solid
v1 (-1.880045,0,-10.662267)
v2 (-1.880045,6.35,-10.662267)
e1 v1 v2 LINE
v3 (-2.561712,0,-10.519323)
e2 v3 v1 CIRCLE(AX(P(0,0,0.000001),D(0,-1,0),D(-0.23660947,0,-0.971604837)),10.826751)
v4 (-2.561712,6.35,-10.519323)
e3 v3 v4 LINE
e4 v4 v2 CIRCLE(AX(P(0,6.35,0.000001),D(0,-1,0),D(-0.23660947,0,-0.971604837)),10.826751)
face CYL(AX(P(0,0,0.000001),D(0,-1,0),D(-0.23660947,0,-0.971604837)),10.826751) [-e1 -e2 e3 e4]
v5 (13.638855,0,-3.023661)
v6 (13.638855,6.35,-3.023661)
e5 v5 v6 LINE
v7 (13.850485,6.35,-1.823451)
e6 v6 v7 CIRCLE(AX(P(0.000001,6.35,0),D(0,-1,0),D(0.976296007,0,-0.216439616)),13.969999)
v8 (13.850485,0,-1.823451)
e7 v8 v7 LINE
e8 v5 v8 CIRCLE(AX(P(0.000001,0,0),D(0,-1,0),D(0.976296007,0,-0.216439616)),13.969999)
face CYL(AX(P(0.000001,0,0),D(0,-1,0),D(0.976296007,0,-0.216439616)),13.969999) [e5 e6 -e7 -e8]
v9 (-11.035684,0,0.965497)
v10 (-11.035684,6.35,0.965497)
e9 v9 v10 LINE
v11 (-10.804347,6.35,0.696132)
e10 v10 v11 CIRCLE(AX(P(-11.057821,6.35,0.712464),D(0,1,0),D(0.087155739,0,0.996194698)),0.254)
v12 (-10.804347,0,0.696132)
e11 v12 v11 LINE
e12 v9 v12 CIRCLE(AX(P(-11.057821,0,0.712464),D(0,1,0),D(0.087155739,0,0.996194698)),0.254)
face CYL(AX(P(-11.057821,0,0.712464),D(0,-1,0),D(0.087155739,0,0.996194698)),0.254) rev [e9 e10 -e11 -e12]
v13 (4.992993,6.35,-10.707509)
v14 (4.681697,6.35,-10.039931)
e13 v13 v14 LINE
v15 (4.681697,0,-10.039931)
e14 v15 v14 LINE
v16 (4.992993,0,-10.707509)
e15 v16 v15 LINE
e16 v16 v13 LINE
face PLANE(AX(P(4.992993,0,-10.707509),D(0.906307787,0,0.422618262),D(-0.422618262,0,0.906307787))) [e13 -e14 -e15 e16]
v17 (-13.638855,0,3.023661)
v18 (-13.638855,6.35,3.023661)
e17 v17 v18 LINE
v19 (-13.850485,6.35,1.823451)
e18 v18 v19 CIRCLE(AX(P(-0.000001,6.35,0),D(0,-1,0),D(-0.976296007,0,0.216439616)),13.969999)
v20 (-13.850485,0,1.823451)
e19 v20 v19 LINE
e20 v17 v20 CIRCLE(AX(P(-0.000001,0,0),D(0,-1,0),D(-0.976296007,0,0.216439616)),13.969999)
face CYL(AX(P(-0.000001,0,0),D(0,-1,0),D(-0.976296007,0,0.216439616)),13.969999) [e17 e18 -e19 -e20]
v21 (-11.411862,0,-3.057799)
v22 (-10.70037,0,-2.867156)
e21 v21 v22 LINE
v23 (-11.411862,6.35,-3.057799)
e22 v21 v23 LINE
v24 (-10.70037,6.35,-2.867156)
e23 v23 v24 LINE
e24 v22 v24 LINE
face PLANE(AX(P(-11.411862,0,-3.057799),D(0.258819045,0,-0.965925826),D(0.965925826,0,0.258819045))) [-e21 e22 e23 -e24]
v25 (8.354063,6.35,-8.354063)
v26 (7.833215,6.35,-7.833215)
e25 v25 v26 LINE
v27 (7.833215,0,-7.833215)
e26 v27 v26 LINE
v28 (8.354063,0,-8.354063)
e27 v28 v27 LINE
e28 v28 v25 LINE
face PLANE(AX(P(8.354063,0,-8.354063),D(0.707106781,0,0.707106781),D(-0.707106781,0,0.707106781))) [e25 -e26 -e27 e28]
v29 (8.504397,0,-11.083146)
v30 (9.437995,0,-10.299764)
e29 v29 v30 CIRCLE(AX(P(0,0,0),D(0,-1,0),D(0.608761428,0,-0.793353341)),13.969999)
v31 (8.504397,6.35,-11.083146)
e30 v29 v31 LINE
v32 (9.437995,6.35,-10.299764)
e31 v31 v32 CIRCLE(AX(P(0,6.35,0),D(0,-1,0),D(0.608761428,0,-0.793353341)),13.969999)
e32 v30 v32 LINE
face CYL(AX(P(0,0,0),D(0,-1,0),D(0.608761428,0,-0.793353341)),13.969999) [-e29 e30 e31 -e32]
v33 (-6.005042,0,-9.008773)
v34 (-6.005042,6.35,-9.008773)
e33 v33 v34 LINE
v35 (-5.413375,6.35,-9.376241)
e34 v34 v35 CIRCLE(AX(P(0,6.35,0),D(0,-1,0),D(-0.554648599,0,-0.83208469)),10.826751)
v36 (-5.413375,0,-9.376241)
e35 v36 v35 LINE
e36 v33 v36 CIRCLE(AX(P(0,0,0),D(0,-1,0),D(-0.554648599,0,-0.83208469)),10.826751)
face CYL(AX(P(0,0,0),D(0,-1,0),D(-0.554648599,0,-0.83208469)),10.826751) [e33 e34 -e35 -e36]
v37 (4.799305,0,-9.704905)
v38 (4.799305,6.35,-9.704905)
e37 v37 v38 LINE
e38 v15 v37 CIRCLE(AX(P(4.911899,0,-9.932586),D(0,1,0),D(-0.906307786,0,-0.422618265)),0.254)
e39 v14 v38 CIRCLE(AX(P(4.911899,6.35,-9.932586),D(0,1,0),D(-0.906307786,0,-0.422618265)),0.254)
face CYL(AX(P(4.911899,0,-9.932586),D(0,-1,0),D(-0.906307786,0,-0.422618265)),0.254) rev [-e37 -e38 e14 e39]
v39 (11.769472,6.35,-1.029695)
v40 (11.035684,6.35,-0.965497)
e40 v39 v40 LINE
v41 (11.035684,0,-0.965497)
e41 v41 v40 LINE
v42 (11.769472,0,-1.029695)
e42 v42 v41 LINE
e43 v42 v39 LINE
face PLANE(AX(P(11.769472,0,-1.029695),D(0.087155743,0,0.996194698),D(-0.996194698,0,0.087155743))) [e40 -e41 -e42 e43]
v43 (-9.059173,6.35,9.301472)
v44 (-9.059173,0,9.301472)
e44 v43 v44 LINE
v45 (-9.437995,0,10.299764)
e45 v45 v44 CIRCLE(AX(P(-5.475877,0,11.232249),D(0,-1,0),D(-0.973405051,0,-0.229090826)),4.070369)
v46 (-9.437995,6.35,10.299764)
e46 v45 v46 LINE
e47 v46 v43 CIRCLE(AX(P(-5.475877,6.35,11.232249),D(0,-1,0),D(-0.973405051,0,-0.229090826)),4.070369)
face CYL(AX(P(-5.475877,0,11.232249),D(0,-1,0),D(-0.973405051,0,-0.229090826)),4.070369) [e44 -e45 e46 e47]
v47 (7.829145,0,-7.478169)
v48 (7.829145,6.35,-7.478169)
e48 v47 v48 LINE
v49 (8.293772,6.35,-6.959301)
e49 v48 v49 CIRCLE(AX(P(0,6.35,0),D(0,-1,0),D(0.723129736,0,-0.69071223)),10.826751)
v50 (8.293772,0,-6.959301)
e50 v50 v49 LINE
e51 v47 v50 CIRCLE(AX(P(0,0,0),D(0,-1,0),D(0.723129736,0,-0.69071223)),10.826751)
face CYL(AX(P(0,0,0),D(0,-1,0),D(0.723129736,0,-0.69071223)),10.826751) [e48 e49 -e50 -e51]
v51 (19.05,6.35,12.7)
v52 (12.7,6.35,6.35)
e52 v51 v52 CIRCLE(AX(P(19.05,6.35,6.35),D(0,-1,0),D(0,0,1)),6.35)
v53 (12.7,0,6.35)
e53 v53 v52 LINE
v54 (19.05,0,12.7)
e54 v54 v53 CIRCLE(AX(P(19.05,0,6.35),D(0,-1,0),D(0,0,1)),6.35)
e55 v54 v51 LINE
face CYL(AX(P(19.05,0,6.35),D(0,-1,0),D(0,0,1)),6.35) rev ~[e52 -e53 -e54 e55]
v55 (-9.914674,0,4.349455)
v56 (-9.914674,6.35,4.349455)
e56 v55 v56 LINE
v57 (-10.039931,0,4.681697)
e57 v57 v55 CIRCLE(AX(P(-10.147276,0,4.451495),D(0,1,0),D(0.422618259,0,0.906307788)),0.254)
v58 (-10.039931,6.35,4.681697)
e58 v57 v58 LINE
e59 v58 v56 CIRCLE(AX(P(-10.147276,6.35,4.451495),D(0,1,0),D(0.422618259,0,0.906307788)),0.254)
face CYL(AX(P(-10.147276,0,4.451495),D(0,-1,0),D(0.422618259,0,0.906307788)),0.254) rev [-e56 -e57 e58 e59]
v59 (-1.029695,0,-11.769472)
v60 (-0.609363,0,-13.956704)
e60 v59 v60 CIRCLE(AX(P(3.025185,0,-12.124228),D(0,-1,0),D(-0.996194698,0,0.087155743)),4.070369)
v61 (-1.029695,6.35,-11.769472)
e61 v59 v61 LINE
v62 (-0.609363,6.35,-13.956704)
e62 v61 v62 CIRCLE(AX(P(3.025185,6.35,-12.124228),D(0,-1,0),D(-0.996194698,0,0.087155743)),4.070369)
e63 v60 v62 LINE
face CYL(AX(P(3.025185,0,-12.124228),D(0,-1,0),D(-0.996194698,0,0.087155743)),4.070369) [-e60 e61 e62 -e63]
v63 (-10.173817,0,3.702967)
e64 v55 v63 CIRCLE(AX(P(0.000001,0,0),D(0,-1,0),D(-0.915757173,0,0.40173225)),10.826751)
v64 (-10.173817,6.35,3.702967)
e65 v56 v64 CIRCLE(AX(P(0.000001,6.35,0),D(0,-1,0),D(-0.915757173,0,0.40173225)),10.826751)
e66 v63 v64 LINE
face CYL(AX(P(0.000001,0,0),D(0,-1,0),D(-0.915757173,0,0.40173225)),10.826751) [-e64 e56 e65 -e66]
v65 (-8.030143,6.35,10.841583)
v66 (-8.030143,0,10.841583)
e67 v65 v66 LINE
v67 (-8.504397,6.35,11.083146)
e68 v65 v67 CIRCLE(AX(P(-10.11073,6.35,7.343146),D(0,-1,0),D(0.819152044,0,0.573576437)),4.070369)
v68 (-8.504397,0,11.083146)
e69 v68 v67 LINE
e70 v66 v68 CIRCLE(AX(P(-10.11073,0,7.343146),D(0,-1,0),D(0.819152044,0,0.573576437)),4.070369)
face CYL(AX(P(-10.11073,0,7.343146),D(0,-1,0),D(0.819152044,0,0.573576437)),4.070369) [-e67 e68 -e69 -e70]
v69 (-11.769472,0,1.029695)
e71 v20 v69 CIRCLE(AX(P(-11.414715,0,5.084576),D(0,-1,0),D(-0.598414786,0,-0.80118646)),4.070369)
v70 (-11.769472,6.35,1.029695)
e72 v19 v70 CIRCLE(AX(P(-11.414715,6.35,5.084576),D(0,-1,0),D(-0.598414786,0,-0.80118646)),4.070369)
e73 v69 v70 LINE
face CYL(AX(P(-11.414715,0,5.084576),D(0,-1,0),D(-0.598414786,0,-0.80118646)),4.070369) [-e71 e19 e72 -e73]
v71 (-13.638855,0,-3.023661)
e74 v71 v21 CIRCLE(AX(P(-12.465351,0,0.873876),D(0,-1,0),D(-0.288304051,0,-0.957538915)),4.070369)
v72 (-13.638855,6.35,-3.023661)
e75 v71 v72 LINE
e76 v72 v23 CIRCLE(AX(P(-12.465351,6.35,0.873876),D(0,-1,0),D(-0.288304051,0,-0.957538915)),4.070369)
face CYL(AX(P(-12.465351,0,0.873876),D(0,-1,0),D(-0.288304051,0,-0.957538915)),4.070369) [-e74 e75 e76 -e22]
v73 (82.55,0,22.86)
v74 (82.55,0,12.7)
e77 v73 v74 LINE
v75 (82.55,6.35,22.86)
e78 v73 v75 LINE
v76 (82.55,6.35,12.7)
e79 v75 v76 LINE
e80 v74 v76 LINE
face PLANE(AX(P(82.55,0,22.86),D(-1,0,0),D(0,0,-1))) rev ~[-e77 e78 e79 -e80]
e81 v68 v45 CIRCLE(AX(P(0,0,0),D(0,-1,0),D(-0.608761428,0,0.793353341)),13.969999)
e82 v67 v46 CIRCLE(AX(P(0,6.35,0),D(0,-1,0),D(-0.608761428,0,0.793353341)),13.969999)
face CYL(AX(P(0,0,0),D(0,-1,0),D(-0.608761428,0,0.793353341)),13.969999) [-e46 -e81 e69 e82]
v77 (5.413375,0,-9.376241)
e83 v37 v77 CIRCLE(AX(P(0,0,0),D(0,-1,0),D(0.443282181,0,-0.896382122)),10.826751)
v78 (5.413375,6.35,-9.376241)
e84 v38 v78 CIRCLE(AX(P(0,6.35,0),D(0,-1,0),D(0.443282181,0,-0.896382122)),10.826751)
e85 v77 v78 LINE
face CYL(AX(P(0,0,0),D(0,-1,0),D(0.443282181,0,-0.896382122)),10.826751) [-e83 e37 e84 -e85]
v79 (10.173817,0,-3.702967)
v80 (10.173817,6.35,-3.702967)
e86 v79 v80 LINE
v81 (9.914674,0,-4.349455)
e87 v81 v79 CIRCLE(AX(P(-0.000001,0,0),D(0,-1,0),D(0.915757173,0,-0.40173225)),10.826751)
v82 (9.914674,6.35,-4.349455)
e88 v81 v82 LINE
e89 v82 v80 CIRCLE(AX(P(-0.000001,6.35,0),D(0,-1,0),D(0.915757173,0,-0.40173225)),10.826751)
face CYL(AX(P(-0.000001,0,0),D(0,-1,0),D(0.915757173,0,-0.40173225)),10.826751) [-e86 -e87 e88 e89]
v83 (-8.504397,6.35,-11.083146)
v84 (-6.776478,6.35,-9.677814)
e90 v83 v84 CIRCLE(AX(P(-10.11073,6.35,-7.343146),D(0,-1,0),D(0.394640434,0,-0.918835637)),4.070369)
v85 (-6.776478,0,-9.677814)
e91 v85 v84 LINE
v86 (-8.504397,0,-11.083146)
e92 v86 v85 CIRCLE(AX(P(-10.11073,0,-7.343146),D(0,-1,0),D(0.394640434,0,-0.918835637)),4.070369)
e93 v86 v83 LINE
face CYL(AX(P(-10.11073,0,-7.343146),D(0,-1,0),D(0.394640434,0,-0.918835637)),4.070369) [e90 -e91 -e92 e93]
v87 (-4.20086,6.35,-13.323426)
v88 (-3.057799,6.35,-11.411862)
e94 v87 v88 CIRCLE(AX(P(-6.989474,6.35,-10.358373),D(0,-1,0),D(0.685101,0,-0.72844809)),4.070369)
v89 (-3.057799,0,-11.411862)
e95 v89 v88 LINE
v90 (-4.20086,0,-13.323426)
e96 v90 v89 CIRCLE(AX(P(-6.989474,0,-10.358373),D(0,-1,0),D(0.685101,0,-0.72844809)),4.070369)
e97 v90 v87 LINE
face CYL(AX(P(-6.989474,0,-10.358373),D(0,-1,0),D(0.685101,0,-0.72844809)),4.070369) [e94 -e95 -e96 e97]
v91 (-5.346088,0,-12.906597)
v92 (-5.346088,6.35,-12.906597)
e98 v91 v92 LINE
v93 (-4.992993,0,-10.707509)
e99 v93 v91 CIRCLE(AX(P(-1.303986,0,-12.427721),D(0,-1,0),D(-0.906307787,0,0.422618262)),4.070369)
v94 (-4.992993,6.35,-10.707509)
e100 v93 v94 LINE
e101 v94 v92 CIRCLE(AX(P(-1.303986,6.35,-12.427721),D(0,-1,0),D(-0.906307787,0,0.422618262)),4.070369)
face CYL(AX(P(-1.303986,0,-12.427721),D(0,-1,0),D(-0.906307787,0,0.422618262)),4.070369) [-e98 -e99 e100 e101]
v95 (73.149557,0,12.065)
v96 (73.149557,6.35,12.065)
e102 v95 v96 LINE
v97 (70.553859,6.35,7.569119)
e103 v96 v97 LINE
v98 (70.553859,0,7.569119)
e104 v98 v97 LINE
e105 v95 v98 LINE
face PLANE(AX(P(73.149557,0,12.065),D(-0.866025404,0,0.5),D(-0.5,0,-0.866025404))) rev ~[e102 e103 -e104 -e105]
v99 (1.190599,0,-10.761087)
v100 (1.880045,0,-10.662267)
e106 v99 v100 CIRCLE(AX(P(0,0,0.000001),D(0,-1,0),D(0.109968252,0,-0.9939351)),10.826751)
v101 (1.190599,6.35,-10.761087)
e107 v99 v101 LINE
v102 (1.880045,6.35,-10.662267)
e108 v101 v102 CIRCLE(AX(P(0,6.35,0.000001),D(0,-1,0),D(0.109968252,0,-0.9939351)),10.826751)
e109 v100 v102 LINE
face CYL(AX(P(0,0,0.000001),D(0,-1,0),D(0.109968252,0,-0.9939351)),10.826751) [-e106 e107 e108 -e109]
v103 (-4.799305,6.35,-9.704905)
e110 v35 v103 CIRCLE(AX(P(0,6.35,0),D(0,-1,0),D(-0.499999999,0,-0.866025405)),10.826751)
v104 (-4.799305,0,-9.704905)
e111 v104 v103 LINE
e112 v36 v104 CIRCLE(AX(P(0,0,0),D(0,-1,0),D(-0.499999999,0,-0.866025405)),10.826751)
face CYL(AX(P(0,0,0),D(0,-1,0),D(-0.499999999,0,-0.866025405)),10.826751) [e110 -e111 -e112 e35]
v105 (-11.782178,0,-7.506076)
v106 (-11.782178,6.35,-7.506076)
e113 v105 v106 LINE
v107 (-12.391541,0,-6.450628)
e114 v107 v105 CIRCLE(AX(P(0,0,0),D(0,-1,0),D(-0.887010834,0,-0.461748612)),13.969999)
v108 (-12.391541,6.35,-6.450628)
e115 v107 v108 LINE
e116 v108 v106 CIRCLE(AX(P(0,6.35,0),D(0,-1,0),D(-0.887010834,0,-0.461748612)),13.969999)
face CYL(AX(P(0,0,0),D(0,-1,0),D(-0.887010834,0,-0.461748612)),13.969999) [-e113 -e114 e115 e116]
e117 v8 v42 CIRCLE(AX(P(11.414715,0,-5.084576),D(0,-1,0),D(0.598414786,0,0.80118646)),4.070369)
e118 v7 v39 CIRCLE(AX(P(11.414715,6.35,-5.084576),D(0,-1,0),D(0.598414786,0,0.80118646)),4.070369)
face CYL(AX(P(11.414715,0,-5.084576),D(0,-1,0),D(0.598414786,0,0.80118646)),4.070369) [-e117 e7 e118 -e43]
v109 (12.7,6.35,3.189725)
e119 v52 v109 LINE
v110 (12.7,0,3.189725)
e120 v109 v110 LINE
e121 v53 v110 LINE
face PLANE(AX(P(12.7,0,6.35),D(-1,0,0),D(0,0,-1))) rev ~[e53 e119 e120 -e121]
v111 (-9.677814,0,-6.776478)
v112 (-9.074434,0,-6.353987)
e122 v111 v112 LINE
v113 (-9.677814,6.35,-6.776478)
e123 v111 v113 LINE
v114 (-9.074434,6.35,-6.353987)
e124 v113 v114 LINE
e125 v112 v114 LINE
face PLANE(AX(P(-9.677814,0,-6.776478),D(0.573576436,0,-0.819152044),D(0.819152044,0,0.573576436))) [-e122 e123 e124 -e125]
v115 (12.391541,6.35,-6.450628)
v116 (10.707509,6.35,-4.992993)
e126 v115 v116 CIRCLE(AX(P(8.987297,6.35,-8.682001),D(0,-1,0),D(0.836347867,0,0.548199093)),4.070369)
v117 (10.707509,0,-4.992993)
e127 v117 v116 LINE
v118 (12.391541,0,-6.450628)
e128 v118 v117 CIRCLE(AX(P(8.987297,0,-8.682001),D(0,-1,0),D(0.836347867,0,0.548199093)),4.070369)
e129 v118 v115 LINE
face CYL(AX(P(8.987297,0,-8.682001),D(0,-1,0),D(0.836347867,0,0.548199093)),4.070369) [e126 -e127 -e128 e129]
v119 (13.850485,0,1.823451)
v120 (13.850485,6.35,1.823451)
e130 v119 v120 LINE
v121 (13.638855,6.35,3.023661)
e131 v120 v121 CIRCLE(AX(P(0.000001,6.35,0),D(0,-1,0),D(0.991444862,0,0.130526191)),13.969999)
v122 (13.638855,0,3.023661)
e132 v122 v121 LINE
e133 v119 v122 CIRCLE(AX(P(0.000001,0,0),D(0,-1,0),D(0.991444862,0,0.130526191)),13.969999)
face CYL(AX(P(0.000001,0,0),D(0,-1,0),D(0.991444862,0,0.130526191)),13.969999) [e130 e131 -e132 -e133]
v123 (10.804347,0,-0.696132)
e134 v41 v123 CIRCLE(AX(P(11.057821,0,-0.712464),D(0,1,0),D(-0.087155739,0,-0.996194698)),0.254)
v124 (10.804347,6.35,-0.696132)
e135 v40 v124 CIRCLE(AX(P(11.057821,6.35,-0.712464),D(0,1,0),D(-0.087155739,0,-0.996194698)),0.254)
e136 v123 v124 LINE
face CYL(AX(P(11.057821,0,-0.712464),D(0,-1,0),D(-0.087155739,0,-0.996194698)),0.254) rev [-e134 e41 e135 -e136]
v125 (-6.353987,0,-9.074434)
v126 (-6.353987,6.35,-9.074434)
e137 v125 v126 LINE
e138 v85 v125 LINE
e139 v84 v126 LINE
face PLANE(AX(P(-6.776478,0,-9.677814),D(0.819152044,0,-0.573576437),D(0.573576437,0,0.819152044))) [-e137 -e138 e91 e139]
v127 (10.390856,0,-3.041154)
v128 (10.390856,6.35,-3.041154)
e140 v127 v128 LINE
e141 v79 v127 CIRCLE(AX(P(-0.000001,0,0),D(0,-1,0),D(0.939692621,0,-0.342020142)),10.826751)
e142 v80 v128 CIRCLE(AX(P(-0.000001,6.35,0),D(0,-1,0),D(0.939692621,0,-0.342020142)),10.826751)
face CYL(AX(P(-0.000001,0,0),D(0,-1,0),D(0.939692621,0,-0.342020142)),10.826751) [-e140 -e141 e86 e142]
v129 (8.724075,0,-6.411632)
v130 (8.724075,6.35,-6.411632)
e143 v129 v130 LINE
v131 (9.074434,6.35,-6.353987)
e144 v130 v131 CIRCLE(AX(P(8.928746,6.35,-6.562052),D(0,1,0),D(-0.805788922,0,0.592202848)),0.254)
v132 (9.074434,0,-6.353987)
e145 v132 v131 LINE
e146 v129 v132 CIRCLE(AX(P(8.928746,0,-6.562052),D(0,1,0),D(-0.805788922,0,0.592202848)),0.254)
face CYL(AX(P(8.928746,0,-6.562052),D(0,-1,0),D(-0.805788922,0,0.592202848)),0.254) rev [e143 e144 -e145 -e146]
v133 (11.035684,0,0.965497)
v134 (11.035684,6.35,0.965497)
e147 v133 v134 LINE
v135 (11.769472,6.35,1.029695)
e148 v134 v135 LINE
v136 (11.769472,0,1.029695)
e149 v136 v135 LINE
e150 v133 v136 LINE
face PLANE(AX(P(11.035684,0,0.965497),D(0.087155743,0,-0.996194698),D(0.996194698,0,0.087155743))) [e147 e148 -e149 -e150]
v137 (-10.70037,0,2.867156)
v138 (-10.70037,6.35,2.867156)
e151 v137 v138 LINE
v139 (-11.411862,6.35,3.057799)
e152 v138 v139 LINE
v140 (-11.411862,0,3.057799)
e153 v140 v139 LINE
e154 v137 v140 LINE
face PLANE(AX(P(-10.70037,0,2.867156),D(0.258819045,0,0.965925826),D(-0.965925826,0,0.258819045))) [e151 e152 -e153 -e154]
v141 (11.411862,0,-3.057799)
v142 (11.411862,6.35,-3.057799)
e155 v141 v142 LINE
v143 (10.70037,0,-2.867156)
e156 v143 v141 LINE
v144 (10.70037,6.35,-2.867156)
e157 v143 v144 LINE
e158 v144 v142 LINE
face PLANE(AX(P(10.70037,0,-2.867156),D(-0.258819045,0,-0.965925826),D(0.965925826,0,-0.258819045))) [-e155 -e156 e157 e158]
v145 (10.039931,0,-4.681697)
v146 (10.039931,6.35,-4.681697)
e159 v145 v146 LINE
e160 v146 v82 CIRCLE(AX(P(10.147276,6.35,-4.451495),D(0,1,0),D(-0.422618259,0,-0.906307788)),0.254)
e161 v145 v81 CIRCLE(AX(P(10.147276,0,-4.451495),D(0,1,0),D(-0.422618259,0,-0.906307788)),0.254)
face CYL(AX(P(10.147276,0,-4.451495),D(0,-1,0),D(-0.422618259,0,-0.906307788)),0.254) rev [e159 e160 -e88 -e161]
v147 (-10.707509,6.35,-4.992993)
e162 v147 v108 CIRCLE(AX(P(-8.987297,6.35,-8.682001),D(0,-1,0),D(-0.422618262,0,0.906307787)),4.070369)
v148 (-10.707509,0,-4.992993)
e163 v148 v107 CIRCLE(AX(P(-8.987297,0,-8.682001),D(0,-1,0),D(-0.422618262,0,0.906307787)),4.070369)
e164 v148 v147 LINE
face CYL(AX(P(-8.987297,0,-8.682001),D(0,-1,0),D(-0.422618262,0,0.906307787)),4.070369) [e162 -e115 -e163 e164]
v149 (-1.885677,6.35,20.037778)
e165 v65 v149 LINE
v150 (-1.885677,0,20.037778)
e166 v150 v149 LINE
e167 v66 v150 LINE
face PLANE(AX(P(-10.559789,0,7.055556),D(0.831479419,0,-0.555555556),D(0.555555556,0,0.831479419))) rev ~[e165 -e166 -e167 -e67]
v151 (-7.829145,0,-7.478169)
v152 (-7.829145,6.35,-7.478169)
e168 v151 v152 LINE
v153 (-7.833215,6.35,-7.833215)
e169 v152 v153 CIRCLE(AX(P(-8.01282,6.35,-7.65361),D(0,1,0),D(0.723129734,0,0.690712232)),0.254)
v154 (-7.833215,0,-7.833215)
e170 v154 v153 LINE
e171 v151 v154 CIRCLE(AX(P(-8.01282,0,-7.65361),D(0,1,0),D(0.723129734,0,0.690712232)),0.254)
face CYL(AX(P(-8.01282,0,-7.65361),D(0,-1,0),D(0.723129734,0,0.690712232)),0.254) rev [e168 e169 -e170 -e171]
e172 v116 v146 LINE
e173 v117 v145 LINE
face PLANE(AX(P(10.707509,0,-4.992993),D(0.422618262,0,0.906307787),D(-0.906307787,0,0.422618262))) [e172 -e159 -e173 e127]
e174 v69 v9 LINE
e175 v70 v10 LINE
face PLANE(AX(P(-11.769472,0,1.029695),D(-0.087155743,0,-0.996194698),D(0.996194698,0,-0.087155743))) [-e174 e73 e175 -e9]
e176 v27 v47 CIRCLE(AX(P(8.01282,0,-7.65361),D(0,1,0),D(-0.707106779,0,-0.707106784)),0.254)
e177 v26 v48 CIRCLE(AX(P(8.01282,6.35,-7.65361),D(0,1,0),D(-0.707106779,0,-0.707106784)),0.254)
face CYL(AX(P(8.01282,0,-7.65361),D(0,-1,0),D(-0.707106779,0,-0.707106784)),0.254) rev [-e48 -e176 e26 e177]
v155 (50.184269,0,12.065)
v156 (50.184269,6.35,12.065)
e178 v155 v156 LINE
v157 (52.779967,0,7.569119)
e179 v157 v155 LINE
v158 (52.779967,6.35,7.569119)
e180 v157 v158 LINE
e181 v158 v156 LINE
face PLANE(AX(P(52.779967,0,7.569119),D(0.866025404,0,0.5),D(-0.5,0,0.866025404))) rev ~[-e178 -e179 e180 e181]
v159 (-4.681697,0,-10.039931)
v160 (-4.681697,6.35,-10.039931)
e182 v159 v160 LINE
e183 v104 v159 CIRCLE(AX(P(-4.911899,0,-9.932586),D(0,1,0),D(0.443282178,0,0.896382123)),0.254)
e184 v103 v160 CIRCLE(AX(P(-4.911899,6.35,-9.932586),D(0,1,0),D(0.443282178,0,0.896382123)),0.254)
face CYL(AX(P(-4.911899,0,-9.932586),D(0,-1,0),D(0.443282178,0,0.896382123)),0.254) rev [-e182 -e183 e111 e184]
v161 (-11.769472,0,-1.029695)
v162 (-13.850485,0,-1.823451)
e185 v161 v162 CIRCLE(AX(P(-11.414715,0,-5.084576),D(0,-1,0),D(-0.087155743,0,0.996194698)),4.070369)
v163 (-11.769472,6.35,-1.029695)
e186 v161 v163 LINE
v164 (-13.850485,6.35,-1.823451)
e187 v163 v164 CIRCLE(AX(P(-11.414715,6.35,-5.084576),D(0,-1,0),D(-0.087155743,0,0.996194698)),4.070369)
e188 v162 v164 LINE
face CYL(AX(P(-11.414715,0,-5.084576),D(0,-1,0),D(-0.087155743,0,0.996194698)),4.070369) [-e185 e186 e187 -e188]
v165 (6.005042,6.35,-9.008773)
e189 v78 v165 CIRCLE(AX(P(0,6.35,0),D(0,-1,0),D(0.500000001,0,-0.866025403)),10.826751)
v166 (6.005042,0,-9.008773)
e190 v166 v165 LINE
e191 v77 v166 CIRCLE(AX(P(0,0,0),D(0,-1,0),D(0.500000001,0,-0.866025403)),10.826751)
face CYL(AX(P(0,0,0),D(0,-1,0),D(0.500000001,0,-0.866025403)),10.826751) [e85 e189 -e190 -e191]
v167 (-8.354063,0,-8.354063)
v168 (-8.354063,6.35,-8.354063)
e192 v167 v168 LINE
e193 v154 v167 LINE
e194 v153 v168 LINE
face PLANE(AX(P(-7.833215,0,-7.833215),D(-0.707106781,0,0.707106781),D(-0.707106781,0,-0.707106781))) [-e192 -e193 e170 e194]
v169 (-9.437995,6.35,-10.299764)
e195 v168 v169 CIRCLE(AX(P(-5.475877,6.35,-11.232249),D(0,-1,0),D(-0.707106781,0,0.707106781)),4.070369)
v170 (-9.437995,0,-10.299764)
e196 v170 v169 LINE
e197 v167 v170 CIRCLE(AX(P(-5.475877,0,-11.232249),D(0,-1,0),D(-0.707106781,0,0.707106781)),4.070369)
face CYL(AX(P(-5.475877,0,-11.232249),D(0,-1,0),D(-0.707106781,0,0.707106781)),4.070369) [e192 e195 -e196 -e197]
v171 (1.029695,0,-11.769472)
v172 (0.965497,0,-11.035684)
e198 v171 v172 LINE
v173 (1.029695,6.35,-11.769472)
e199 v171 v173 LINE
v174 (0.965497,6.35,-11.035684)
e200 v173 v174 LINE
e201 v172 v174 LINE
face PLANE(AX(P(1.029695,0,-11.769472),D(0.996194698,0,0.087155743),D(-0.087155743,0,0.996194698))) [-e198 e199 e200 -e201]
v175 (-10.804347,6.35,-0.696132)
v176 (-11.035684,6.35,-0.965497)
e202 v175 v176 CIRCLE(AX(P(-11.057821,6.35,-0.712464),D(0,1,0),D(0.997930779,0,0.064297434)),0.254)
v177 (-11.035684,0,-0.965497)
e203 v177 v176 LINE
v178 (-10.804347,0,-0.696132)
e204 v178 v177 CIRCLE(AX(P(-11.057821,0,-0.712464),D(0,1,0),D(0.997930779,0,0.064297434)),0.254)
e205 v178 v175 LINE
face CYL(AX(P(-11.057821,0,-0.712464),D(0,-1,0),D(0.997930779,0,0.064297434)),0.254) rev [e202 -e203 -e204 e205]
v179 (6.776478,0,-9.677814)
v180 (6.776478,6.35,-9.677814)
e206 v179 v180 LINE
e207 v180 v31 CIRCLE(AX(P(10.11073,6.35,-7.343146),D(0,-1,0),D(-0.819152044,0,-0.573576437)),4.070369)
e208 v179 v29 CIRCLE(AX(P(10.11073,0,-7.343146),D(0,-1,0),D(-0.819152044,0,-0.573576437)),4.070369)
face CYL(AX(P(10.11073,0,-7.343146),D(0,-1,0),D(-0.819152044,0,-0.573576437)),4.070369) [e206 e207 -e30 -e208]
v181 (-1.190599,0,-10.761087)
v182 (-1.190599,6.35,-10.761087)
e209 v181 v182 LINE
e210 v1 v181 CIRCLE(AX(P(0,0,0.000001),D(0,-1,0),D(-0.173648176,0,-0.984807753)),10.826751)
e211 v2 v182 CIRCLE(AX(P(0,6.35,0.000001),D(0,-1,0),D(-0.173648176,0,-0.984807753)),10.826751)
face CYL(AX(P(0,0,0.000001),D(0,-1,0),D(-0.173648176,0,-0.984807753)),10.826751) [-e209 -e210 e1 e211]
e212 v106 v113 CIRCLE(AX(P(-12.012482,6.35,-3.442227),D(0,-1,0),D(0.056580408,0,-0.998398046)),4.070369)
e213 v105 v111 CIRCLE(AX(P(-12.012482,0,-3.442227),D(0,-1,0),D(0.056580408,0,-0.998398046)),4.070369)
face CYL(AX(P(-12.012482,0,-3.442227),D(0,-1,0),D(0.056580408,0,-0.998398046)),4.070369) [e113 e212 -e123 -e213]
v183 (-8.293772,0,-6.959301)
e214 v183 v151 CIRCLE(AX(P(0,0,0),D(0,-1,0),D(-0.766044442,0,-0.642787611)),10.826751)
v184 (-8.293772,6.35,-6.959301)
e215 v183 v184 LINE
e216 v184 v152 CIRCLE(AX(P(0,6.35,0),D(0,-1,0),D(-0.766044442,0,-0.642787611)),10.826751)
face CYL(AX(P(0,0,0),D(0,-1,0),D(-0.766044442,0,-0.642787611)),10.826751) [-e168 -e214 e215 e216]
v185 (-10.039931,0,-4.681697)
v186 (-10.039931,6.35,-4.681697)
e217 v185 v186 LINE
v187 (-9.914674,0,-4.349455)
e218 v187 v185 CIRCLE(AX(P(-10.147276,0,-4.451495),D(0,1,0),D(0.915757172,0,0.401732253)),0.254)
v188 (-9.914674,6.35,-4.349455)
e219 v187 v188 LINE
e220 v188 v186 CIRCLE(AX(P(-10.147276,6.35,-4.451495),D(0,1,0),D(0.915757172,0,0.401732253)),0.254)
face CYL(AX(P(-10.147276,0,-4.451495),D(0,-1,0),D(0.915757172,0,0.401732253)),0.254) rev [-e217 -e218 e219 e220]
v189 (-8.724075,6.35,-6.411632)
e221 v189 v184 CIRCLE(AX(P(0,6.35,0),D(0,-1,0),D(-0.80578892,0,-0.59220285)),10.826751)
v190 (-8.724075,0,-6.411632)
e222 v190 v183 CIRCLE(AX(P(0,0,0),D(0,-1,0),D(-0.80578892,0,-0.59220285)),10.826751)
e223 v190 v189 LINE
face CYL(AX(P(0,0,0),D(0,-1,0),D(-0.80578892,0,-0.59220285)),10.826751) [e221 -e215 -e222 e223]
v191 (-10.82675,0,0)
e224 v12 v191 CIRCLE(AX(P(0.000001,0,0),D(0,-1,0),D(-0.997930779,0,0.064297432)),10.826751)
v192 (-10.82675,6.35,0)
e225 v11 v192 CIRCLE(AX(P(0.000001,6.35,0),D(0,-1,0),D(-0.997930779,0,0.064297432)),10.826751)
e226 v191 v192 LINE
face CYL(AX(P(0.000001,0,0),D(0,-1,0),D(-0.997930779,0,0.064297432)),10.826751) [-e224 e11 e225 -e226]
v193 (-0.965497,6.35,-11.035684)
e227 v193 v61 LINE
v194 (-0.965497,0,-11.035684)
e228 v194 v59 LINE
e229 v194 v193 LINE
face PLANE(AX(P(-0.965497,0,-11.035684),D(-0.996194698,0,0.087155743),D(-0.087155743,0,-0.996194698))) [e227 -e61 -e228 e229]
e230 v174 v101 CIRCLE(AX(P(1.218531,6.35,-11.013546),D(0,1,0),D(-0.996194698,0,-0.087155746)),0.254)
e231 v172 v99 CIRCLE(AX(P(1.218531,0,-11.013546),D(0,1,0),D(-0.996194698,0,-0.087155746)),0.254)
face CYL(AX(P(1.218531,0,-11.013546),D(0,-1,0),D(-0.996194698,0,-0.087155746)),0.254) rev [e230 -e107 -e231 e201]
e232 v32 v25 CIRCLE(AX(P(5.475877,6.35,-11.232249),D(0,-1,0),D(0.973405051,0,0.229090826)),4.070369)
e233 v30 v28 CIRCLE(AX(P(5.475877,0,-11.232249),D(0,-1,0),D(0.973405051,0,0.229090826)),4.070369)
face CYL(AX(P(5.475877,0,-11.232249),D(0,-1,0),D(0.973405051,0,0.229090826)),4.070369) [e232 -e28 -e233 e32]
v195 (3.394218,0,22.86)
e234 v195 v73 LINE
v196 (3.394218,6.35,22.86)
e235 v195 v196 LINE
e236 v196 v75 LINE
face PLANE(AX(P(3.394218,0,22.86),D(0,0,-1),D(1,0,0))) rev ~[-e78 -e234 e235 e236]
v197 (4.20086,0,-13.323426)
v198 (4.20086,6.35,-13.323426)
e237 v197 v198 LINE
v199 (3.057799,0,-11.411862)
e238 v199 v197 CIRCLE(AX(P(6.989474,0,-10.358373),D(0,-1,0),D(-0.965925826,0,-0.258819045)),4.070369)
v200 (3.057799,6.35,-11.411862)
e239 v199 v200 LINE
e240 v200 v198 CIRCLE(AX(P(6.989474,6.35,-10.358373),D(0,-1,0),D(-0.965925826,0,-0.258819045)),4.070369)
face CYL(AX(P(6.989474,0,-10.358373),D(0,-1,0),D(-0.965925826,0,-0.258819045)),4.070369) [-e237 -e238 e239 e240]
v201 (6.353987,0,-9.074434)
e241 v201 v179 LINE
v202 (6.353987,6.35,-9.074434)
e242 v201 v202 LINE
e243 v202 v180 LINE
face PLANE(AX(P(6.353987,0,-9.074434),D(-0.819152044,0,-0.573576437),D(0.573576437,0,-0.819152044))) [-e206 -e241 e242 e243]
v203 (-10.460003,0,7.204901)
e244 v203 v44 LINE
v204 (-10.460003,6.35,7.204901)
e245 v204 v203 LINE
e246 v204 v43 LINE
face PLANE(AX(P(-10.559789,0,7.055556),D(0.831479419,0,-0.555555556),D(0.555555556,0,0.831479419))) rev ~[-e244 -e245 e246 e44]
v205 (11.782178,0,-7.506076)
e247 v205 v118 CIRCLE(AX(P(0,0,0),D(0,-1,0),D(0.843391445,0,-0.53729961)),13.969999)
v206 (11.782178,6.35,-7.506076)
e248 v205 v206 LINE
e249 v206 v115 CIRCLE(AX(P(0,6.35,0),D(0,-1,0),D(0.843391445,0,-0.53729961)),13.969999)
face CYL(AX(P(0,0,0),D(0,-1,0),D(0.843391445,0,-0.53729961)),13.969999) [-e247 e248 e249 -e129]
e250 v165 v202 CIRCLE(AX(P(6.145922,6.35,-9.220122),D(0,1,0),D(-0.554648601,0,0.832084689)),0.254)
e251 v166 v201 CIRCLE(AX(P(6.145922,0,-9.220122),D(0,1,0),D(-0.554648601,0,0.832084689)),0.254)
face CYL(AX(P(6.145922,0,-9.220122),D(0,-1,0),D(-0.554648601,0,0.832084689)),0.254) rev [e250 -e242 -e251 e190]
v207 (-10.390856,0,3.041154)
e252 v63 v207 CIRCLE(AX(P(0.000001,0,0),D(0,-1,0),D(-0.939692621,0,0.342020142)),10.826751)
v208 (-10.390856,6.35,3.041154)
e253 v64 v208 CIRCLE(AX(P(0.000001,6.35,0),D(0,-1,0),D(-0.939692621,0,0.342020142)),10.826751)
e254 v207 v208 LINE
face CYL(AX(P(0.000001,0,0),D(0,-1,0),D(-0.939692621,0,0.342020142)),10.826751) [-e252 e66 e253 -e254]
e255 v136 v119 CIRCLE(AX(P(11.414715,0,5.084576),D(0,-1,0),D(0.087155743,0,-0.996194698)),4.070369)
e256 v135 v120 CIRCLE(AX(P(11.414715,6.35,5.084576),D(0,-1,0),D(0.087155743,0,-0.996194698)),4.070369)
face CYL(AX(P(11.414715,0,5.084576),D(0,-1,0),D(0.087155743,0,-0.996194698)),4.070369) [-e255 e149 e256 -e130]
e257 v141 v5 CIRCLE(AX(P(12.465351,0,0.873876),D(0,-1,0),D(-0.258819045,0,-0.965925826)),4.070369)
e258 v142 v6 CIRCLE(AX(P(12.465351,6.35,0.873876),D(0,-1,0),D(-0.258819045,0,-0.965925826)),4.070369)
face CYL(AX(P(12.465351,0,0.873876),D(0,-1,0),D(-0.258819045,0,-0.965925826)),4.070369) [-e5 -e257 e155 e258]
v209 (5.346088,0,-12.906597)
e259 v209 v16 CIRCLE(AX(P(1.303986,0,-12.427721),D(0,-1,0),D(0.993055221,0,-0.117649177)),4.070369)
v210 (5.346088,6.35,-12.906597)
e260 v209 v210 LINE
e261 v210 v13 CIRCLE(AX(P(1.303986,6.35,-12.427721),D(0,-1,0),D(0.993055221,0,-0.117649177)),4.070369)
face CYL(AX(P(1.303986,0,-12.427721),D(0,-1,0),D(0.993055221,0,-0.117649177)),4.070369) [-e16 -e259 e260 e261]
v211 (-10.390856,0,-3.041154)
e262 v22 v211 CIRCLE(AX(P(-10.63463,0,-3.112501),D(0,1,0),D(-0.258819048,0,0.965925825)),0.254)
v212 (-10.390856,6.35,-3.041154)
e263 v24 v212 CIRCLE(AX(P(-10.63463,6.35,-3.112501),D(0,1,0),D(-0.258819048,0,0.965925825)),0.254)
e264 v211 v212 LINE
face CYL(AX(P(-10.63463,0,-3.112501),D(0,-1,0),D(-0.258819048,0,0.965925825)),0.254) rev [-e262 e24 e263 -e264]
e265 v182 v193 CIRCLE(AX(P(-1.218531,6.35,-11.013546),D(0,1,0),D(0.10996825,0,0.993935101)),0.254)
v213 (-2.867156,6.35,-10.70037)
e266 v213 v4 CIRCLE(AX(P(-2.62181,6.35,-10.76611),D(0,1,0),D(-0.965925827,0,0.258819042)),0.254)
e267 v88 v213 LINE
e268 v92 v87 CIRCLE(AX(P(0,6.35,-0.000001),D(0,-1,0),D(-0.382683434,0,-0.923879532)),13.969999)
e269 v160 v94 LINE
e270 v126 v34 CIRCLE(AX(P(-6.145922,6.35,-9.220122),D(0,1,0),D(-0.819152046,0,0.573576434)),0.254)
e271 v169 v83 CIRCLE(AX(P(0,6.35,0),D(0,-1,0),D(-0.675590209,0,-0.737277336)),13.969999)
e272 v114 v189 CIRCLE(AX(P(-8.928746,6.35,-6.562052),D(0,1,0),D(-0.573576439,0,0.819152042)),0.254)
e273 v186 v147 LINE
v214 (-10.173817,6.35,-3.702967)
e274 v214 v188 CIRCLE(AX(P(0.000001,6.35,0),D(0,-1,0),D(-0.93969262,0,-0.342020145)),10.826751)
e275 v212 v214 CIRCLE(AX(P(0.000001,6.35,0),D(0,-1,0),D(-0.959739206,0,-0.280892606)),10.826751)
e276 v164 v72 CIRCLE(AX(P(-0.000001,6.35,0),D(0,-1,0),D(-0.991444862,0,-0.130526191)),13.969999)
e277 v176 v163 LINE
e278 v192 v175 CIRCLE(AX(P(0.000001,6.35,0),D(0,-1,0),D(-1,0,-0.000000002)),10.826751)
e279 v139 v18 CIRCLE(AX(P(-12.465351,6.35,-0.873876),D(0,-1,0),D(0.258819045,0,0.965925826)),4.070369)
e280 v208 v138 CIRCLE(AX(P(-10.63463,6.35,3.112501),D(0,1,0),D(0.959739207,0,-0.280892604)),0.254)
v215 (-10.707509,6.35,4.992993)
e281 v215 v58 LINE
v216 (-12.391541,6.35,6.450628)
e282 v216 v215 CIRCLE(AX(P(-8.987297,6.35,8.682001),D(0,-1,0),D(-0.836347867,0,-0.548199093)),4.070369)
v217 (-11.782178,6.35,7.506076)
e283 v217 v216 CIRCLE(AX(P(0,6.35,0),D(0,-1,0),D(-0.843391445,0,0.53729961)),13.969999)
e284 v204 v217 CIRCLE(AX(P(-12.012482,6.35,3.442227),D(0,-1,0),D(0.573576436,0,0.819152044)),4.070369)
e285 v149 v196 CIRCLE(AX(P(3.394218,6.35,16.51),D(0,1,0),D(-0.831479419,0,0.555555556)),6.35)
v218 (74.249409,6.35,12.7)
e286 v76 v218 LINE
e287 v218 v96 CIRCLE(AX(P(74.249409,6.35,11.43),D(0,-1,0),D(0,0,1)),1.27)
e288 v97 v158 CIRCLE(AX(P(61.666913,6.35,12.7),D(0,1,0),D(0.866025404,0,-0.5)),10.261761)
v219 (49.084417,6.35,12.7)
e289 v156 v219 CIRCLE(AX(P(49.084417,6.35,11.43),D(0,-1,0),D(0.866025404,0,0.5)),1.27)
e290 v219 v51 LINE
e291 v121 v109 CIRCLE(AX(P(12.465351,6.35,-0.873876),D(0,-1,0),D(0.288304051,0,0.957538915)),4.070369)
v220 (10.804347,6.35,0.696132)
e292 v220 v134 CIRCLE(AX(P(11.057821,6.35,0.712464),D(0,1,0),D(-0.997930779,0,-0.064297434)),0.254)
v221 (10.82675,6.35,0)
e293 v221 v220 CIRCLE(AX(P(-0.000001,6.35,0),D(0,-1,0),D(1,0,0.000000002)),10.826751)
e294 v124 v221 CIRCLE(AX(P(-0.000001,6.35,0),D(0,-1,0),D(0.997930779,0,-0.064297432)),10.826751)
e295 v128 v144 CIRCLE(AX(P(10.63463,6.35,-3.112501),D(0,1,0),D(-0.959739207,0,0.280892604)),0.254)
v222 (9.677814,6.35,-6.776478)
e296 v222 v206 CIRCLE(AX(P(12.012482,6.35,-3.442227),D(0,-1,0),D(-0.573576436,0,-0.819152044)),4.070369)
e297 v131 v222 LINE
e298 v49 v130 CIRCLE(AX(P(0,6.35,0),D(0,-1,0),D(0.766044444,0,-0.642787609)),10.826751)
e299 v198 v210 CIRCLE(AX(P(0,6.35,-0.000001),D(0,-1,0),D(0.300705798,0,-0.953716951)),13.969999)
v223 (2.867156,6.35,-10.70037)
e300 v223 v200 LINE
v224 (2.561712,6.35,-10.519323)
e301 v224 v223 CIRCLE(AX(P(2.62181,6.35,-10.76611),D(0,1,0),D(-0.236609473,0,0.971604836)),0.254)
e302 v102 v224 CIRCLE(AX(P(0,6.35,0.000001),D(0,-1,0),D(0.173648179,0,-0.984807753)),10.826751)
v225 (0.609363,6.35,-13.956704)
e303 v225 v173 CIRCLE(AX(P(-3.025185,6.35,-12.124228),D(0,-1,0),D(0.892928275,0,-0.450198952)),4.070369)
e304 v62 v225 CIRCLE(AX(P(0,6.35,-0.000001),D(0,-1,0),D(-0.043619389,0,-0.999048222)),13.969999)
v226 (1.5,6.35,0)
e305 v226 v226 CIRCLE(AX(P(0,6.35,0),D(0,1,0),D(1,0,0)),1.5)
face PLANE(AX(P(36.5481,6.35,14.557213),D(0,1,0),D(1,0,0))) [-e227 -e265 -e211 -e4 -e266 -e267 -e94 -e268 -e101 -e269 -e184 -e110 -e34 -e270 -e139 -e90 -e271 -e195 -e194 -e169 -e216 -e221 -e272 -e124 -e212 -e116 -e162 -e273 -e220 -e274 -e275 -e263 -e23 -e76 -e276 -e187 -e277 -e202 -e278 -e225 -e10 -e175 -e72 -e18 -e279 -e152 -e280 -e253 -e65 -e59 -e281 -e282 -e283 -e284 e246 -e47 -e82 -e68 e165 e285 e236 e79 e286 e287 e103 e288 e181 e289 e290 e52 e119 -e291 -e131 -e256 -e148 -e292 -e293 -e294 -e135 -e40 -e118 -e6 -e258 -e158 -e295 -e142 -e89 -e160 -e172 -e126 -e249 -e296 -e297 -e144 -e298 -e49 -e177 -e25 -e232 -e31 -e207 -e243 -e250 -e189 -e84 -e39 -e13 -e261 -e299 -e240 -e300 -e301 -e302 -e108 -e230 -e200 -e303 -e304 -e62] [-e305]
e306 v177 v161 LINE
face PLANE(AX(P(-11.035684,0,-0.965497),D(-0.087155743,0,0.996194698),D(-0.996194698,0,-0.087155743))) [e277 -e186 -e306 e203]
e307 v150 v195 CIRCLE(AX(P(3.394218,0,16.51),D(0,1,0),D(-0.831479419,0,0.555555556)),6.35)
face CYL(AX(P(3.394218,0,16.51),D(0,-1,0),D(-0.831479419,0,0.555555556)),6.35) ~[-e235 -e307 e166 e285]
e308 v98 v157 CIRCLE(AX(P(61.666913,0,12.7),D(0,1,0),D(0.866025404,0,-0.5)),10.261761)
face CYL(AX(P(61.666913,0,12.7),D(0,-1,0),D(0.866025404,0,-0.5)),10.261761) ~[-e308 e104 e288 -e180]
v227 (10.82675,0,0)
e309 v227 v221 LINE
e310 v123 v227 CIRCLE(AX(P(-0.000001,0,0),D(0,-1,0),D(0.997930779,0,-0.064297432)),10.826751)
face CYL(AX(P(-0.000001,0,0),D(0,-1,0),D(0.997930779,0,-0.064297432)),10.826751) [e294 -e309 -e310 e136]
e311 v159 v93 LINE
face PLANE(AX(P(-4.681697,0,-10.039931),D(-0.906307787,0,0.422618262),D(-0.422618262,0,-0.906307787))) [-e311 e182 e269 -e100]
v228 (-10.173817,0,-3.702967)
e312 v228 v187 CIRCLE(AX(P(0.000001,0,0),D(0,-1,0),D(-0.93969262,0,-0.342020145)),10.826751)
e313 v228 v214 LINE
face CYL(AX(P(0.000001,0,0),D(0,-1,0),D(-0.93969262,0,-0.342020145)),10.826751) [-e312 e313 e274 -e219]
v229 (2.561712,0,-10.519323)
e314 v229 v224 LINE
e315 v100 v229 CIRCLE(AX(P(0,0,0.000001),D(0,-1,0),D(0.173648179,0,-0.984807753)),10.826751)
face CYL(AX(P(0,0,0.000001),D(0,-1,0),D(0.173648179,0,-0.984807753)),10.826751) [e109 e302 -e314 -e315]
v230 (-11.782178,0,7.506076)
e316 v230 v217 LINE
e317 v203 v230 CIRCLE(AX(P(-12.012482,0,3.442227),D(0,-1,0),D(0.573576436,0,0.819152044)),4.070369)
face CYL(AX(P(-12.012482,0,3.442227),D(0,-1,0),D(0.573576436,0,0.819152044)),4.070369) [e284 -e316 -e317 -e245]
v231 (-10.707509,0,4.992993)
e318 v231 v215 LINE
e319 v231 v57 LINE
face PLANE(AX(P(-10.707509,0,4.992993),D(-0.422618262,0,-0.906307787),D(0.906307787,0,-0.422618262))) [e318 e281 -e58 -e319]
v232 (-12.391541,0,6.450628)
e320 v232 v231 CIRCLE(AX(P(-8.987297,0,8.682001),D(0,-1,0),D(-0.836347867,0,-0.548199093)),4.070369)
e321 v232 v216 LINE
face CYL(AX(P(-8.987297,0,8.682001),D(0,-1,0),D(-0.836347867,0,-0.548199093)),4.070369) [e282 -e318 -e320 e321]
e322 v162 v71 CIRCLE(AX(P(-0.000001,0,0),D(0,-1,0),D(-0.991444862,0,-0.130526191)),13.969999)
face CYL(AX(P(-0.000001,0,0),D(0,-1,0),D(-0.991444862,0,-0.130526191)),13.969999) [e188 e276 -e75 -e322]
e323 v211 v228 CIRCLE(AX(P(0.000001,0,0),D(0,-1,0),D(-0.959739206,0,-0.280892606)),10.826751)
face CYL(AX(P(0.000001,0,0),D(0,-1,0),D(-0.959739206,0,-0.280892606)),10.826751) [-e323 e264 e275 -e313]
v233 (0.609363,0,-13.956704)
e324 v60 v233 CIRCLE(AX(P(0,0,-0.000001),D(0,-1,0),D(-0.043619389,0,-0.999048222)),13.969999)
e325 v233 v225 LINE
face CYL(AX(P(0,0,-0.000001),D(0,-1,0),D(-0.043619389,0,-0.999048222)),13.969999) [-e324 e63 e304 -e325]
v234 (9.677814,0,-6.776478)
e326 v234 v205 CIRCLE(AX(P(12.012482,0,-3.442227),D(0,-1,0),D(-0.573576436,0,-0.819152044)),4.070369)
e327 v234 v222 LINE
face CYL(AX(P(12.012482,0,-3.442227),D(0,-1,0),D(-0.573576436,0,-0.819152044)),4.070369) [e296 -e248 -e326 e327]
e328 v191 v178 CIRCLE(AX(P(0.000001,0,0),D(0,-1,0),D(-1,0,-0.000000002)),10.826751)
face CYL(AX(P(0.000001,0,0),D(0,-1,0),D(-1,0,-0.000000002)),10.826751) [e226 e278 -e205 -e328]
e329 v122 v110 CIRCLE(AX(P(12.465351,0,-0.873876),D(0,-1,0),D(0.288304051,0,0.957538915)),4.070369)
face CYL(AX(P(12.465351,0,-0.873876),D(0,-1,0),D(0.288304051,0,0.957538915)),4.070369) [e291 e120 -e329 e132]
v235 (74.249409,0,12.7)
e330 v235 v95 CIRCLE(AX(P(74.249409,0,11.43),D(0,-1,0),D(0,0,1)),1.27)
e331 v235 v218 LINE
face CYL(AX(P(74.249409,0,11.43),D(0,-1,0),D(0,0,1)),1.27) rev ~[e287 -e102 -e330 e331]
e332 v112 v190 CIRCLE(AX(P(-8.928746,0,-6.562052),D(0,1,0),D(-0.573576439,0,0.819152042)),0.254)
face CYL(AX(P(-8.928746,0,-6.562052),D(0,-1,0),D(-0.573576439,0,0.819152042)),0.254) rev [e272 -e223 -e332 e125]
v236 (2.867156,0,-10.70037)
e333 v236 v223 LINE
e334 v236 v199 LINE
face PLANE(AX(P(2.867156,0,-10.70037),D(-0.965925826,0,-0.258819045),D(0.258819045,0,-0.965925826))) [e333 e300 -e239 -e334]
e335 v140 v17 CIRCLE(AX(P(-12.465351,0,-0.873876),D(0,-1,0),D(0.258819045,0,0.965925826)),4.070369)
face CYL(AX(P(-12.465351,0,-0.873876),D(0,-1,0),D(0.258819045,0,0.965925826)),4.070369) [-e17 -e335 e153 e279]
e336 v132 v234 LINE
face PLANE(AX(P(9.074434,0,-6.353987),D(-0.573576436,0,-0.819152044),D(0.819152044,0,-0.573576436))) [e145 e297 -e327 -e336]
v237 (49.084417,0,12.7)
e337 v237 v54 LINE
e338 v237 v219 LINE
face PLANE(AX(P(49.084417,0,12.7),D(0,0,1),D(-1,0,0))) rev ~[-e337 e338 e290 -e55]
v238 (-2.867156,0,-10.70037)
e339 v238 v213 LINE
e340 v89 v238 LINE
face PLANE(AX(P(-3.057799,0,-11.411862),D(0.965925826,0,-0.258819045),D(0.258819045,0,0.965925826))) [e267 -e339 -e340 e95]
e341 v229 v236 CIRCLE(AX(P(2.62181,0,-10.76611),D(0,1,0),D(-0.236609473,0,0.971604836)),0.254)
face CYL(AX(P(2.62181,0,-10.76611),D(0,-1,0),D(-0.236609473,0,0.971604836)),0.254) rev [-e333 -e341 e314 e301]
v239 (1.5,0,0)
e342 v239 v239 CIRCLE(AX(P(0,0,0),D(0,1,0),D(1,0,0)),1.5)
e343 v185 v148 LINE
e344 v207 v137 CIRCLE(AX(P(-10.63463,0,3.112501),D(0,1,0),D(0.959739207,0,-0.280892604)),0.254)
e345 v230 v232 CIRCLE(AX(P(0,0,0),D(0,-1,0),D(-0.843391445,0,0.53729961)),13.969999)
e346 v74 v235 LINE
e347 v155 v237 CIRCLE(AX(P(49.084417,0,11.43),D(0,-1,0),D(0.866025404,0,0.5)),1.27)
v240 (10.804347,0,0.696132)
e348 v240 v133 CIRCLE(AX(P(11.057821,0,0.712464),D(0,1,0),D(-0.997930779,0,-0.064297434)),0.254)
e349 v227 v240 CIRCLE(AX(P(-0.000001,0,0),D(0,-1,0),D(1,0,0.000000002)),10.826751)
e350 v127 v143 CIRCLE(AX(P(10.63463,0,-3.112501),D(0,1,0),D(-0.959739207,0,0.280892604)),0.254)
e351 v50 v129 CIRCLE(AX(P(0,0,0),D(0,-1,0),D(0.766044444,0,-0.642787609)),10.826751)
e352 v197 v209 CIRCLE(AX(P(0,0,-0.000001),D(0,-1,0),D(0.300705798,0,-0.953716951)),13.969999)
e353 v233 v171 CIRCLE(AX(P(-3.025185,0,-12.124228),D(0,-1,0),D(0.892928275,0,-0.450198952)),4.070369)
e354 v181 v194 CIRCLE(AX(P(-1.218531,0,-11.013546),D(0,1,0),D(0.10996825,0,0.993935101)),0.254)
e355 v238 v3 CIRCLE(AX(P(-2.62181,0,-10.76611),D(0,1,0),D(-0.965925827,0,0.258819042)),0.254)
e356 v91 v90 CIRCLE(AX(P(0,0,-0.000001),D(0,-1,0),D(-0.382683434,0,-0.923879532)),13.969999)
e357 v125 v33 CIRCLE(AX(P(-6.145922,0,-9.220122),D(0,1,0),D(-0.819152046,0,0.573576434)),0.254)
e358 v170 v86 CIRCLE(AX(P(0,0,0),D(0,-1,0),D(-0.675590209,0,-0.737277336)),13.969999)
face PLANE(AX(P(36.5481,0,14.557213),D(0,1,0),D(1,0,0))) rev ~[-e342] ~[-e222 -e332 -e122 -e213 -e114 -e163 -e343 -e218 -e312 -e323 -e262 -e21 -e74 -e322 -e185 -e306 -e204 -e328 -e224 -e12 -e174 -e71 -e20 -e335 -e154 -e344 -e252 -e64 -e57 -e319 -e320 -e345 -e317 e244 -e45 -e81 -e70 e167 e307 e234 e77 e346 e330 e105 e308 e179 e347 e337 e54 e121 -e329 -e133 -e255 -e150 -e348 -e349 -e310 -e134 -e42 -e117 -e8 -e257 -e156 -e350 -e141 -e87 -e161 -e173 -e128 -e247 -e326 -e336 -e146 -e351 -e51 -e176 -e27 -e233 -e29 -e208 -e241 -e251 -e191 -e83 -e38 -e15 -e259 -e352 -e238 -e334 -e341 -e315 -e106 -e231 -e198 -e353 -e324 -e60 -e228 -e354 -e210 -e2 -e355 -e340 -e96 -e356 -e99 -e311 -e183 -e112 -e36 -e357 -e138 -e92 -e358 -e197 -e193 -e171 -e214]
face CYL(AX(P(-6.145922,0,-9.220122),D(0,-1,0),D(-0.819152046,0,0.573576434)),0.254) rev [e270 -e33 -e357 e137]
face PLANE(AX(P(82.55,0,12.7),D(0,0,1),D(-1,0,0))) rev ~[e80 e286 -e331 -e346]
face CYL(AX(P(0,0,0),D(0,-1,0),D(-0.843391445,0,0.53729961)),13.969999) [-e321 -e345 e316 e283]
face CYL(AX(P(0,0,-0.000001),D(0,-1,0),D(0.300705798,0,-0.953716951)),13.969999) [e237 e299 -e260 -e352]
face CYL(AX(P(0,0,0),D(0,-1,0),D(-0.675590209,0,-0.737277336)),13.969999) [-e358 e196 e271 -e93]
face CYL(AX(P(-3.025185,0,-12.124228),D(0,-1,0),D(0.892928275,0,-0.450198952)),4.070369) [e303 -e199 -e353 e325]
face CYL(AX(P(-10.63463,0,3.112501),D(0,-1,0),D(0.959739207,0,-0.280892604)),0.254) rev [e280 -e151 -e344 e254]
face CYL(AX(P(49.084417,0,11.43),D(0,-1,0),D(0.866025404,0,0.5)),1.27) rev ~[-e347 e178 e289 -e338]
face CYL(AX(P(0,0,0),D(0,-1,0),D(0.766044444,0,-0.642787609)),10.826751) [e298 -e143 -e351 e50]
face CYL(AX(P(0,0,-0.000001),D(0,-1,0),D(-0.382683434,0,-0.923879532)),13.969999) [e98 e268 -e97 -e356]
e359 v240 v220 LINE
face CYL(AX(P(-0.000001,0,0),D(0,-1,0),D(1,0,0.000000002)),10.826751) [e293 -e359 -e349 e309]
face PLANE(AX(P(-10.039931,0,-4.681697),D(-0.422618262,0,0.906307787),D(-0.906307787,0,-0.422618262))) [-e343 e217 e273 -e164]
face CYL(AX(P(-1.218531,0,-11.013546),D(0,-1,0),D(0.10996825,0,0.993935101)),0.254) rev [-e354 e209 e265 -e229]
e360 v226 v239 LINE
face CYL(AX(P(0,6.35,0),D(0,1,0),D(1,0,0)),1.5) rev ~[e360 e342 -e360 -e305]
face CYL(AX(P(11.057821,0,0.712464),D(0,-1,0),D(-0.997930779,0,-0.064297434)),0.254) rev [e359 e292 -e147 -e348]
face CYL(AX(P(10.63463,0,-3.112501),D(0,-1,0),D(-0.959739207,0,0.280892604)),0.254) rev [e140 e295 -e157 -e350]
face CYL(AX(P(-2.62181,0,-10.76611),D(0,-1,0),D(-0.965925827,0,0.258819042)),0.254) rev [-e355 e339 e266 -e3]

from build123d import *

# Parameters (mm, degrees)
BOSS_EXTRUDE1_DEPTH = 6.35
CIRPATTERN1_COUNT   = 18
BOSS_EXTRUDE3_START = -6.35
BOSS_EXTRUDE3_DEPTH = 6.35
SKETCH4_R           = 1.500000048
CUT_EXTRUDE1_DEPTH  = 6.35


with BuildPart() as part:
    # Sketch1 → Boss-Extrude1 (new body)
    with BuildSketch(Plane(origin=(0, 0, 0), x_dir=(1, 0, 0), z_dir=(0, 1, 0))):
        with BuildLine():
            Line((0, 0), (-1.880045408, 10.66226734))
            ThreePointArc((-1.880045408, 10.66226734), (-1.536116928, 10.717222604), (-1.190598755, 10.761086849))
            ThreePointArc((-1.190598755, 10.761086849), (-1.022096794, 10.852519273), (-0.965497238, 11.035683923))
            Line((-0.965497238, 11.035683923), (-1.029695335, 11.769471531))
            ThreePointArc((-1.029695335, 11.769471531), (-0.972041848, 12.892396814), (-0.609362841, 13.956703655))
            ThreePointArc((-0.609362841, 13.956703655), (0, 13.97), (0.609362841, 13.956703655))
            ThreePointArc((0.609362841, 13.956703655), (0.972041848, 12.892396814), (1.029695335, 11.769471531))
            Line((1.029695335, 11.769471531), (0.965497238, 11.035683923))
            ThreePointArc((0.965497238, 11.035683923), (1.022096794, 10.852519273), (1.190598755, 10.761086849))
            ThreePointArc((1.190598755, 10.761086849), (1.536116928, 10.717222604), (1.880045408, 10.66226734))
            Line((1.880045408, 10.66226734), (0, 0))
        make_face()
    boss_extrude1 = extrude(amount=BOSS_EXTRUDE1_DEPTH)

    # CirPattern1: Boss-Extrude1 ×18 about axis
    cirpattern1_axis = Axis((0, 0, 0), (0, 1, 0))
    for i in range(1, CIRPATTERN1_COUNT):
        add(boss_extrude1.rotate(cirpattern1_axis, i * 360 / CIRPATTERN1_COUNT))

    # Sketch2 → Boss-Extrude3 (add)
    with BuildSketch(Plane(origin=(0, 6.35, 0), x_dir=(1, 0, 0), z_dir=(0, 1, 0)).offset(BOSS_EXTRUDE3_START)):
        with BuildLine():
            Line((49.084416739, -12.7), (19.05, -12.7))
            ThreePointArc((19.05, -12.7), (14.559871939, -10.840128061), (12.7, -6.35))
            Line((12.7, -6.35), (12.7, -3.175))
            Line((12.7, -3.175), (0, 0))
            Line((0, 0), (-10.559788625, -7.055555556))
            Line((-10.559788625, -7.055555556), (-1.88567654, -20.037777778))
            ThreePointArc((-1.88567654, -20.037777778), (0.400799065, -22.110173608), (3.394217772, -22.86))
            Line((3.394217772, -22.86), (82.55, -22.86))
            Line((82.55, -22.86), (82.55, -12.7))
            Line((82.55, -12.7), (74.249409051, -12.7))
            ThreePointArc((74.249409051, -12.7), (73.614409051, -12.529852263), (73.149556788, -12.065))
            Line((73.149556788, -12.065), (70.553858881, -7.569119343))
            ThreePointArc((70.553858881, -7.569119343), (61.666912895, -2.438238686), (52.77996691, -7.569119343))
            Line((52.77996691, -7.569119343), (50.184269002, -12.065))
            ThreePointArc((50.184269002, -12.065), (49.719416739, -12.529852263), (49.084416739, -12.7))
        make_face()
    extrude(amount=BOSS_EXTRUDE3_DEPTH)

    # Sketch4 → Cut-Extrude1 (cut)
    with BuildSketch(Plane(origin=(0, 6.35, 0), x_dir=(1, 0, 0), z_dir=(0, 1, 0))):
        Circle(SKETCH4_R)
    extrude(amount=-CUT_EXTRUDE1_DEPTH, mode=Mode.SUBTRACT)


solid = part.part
